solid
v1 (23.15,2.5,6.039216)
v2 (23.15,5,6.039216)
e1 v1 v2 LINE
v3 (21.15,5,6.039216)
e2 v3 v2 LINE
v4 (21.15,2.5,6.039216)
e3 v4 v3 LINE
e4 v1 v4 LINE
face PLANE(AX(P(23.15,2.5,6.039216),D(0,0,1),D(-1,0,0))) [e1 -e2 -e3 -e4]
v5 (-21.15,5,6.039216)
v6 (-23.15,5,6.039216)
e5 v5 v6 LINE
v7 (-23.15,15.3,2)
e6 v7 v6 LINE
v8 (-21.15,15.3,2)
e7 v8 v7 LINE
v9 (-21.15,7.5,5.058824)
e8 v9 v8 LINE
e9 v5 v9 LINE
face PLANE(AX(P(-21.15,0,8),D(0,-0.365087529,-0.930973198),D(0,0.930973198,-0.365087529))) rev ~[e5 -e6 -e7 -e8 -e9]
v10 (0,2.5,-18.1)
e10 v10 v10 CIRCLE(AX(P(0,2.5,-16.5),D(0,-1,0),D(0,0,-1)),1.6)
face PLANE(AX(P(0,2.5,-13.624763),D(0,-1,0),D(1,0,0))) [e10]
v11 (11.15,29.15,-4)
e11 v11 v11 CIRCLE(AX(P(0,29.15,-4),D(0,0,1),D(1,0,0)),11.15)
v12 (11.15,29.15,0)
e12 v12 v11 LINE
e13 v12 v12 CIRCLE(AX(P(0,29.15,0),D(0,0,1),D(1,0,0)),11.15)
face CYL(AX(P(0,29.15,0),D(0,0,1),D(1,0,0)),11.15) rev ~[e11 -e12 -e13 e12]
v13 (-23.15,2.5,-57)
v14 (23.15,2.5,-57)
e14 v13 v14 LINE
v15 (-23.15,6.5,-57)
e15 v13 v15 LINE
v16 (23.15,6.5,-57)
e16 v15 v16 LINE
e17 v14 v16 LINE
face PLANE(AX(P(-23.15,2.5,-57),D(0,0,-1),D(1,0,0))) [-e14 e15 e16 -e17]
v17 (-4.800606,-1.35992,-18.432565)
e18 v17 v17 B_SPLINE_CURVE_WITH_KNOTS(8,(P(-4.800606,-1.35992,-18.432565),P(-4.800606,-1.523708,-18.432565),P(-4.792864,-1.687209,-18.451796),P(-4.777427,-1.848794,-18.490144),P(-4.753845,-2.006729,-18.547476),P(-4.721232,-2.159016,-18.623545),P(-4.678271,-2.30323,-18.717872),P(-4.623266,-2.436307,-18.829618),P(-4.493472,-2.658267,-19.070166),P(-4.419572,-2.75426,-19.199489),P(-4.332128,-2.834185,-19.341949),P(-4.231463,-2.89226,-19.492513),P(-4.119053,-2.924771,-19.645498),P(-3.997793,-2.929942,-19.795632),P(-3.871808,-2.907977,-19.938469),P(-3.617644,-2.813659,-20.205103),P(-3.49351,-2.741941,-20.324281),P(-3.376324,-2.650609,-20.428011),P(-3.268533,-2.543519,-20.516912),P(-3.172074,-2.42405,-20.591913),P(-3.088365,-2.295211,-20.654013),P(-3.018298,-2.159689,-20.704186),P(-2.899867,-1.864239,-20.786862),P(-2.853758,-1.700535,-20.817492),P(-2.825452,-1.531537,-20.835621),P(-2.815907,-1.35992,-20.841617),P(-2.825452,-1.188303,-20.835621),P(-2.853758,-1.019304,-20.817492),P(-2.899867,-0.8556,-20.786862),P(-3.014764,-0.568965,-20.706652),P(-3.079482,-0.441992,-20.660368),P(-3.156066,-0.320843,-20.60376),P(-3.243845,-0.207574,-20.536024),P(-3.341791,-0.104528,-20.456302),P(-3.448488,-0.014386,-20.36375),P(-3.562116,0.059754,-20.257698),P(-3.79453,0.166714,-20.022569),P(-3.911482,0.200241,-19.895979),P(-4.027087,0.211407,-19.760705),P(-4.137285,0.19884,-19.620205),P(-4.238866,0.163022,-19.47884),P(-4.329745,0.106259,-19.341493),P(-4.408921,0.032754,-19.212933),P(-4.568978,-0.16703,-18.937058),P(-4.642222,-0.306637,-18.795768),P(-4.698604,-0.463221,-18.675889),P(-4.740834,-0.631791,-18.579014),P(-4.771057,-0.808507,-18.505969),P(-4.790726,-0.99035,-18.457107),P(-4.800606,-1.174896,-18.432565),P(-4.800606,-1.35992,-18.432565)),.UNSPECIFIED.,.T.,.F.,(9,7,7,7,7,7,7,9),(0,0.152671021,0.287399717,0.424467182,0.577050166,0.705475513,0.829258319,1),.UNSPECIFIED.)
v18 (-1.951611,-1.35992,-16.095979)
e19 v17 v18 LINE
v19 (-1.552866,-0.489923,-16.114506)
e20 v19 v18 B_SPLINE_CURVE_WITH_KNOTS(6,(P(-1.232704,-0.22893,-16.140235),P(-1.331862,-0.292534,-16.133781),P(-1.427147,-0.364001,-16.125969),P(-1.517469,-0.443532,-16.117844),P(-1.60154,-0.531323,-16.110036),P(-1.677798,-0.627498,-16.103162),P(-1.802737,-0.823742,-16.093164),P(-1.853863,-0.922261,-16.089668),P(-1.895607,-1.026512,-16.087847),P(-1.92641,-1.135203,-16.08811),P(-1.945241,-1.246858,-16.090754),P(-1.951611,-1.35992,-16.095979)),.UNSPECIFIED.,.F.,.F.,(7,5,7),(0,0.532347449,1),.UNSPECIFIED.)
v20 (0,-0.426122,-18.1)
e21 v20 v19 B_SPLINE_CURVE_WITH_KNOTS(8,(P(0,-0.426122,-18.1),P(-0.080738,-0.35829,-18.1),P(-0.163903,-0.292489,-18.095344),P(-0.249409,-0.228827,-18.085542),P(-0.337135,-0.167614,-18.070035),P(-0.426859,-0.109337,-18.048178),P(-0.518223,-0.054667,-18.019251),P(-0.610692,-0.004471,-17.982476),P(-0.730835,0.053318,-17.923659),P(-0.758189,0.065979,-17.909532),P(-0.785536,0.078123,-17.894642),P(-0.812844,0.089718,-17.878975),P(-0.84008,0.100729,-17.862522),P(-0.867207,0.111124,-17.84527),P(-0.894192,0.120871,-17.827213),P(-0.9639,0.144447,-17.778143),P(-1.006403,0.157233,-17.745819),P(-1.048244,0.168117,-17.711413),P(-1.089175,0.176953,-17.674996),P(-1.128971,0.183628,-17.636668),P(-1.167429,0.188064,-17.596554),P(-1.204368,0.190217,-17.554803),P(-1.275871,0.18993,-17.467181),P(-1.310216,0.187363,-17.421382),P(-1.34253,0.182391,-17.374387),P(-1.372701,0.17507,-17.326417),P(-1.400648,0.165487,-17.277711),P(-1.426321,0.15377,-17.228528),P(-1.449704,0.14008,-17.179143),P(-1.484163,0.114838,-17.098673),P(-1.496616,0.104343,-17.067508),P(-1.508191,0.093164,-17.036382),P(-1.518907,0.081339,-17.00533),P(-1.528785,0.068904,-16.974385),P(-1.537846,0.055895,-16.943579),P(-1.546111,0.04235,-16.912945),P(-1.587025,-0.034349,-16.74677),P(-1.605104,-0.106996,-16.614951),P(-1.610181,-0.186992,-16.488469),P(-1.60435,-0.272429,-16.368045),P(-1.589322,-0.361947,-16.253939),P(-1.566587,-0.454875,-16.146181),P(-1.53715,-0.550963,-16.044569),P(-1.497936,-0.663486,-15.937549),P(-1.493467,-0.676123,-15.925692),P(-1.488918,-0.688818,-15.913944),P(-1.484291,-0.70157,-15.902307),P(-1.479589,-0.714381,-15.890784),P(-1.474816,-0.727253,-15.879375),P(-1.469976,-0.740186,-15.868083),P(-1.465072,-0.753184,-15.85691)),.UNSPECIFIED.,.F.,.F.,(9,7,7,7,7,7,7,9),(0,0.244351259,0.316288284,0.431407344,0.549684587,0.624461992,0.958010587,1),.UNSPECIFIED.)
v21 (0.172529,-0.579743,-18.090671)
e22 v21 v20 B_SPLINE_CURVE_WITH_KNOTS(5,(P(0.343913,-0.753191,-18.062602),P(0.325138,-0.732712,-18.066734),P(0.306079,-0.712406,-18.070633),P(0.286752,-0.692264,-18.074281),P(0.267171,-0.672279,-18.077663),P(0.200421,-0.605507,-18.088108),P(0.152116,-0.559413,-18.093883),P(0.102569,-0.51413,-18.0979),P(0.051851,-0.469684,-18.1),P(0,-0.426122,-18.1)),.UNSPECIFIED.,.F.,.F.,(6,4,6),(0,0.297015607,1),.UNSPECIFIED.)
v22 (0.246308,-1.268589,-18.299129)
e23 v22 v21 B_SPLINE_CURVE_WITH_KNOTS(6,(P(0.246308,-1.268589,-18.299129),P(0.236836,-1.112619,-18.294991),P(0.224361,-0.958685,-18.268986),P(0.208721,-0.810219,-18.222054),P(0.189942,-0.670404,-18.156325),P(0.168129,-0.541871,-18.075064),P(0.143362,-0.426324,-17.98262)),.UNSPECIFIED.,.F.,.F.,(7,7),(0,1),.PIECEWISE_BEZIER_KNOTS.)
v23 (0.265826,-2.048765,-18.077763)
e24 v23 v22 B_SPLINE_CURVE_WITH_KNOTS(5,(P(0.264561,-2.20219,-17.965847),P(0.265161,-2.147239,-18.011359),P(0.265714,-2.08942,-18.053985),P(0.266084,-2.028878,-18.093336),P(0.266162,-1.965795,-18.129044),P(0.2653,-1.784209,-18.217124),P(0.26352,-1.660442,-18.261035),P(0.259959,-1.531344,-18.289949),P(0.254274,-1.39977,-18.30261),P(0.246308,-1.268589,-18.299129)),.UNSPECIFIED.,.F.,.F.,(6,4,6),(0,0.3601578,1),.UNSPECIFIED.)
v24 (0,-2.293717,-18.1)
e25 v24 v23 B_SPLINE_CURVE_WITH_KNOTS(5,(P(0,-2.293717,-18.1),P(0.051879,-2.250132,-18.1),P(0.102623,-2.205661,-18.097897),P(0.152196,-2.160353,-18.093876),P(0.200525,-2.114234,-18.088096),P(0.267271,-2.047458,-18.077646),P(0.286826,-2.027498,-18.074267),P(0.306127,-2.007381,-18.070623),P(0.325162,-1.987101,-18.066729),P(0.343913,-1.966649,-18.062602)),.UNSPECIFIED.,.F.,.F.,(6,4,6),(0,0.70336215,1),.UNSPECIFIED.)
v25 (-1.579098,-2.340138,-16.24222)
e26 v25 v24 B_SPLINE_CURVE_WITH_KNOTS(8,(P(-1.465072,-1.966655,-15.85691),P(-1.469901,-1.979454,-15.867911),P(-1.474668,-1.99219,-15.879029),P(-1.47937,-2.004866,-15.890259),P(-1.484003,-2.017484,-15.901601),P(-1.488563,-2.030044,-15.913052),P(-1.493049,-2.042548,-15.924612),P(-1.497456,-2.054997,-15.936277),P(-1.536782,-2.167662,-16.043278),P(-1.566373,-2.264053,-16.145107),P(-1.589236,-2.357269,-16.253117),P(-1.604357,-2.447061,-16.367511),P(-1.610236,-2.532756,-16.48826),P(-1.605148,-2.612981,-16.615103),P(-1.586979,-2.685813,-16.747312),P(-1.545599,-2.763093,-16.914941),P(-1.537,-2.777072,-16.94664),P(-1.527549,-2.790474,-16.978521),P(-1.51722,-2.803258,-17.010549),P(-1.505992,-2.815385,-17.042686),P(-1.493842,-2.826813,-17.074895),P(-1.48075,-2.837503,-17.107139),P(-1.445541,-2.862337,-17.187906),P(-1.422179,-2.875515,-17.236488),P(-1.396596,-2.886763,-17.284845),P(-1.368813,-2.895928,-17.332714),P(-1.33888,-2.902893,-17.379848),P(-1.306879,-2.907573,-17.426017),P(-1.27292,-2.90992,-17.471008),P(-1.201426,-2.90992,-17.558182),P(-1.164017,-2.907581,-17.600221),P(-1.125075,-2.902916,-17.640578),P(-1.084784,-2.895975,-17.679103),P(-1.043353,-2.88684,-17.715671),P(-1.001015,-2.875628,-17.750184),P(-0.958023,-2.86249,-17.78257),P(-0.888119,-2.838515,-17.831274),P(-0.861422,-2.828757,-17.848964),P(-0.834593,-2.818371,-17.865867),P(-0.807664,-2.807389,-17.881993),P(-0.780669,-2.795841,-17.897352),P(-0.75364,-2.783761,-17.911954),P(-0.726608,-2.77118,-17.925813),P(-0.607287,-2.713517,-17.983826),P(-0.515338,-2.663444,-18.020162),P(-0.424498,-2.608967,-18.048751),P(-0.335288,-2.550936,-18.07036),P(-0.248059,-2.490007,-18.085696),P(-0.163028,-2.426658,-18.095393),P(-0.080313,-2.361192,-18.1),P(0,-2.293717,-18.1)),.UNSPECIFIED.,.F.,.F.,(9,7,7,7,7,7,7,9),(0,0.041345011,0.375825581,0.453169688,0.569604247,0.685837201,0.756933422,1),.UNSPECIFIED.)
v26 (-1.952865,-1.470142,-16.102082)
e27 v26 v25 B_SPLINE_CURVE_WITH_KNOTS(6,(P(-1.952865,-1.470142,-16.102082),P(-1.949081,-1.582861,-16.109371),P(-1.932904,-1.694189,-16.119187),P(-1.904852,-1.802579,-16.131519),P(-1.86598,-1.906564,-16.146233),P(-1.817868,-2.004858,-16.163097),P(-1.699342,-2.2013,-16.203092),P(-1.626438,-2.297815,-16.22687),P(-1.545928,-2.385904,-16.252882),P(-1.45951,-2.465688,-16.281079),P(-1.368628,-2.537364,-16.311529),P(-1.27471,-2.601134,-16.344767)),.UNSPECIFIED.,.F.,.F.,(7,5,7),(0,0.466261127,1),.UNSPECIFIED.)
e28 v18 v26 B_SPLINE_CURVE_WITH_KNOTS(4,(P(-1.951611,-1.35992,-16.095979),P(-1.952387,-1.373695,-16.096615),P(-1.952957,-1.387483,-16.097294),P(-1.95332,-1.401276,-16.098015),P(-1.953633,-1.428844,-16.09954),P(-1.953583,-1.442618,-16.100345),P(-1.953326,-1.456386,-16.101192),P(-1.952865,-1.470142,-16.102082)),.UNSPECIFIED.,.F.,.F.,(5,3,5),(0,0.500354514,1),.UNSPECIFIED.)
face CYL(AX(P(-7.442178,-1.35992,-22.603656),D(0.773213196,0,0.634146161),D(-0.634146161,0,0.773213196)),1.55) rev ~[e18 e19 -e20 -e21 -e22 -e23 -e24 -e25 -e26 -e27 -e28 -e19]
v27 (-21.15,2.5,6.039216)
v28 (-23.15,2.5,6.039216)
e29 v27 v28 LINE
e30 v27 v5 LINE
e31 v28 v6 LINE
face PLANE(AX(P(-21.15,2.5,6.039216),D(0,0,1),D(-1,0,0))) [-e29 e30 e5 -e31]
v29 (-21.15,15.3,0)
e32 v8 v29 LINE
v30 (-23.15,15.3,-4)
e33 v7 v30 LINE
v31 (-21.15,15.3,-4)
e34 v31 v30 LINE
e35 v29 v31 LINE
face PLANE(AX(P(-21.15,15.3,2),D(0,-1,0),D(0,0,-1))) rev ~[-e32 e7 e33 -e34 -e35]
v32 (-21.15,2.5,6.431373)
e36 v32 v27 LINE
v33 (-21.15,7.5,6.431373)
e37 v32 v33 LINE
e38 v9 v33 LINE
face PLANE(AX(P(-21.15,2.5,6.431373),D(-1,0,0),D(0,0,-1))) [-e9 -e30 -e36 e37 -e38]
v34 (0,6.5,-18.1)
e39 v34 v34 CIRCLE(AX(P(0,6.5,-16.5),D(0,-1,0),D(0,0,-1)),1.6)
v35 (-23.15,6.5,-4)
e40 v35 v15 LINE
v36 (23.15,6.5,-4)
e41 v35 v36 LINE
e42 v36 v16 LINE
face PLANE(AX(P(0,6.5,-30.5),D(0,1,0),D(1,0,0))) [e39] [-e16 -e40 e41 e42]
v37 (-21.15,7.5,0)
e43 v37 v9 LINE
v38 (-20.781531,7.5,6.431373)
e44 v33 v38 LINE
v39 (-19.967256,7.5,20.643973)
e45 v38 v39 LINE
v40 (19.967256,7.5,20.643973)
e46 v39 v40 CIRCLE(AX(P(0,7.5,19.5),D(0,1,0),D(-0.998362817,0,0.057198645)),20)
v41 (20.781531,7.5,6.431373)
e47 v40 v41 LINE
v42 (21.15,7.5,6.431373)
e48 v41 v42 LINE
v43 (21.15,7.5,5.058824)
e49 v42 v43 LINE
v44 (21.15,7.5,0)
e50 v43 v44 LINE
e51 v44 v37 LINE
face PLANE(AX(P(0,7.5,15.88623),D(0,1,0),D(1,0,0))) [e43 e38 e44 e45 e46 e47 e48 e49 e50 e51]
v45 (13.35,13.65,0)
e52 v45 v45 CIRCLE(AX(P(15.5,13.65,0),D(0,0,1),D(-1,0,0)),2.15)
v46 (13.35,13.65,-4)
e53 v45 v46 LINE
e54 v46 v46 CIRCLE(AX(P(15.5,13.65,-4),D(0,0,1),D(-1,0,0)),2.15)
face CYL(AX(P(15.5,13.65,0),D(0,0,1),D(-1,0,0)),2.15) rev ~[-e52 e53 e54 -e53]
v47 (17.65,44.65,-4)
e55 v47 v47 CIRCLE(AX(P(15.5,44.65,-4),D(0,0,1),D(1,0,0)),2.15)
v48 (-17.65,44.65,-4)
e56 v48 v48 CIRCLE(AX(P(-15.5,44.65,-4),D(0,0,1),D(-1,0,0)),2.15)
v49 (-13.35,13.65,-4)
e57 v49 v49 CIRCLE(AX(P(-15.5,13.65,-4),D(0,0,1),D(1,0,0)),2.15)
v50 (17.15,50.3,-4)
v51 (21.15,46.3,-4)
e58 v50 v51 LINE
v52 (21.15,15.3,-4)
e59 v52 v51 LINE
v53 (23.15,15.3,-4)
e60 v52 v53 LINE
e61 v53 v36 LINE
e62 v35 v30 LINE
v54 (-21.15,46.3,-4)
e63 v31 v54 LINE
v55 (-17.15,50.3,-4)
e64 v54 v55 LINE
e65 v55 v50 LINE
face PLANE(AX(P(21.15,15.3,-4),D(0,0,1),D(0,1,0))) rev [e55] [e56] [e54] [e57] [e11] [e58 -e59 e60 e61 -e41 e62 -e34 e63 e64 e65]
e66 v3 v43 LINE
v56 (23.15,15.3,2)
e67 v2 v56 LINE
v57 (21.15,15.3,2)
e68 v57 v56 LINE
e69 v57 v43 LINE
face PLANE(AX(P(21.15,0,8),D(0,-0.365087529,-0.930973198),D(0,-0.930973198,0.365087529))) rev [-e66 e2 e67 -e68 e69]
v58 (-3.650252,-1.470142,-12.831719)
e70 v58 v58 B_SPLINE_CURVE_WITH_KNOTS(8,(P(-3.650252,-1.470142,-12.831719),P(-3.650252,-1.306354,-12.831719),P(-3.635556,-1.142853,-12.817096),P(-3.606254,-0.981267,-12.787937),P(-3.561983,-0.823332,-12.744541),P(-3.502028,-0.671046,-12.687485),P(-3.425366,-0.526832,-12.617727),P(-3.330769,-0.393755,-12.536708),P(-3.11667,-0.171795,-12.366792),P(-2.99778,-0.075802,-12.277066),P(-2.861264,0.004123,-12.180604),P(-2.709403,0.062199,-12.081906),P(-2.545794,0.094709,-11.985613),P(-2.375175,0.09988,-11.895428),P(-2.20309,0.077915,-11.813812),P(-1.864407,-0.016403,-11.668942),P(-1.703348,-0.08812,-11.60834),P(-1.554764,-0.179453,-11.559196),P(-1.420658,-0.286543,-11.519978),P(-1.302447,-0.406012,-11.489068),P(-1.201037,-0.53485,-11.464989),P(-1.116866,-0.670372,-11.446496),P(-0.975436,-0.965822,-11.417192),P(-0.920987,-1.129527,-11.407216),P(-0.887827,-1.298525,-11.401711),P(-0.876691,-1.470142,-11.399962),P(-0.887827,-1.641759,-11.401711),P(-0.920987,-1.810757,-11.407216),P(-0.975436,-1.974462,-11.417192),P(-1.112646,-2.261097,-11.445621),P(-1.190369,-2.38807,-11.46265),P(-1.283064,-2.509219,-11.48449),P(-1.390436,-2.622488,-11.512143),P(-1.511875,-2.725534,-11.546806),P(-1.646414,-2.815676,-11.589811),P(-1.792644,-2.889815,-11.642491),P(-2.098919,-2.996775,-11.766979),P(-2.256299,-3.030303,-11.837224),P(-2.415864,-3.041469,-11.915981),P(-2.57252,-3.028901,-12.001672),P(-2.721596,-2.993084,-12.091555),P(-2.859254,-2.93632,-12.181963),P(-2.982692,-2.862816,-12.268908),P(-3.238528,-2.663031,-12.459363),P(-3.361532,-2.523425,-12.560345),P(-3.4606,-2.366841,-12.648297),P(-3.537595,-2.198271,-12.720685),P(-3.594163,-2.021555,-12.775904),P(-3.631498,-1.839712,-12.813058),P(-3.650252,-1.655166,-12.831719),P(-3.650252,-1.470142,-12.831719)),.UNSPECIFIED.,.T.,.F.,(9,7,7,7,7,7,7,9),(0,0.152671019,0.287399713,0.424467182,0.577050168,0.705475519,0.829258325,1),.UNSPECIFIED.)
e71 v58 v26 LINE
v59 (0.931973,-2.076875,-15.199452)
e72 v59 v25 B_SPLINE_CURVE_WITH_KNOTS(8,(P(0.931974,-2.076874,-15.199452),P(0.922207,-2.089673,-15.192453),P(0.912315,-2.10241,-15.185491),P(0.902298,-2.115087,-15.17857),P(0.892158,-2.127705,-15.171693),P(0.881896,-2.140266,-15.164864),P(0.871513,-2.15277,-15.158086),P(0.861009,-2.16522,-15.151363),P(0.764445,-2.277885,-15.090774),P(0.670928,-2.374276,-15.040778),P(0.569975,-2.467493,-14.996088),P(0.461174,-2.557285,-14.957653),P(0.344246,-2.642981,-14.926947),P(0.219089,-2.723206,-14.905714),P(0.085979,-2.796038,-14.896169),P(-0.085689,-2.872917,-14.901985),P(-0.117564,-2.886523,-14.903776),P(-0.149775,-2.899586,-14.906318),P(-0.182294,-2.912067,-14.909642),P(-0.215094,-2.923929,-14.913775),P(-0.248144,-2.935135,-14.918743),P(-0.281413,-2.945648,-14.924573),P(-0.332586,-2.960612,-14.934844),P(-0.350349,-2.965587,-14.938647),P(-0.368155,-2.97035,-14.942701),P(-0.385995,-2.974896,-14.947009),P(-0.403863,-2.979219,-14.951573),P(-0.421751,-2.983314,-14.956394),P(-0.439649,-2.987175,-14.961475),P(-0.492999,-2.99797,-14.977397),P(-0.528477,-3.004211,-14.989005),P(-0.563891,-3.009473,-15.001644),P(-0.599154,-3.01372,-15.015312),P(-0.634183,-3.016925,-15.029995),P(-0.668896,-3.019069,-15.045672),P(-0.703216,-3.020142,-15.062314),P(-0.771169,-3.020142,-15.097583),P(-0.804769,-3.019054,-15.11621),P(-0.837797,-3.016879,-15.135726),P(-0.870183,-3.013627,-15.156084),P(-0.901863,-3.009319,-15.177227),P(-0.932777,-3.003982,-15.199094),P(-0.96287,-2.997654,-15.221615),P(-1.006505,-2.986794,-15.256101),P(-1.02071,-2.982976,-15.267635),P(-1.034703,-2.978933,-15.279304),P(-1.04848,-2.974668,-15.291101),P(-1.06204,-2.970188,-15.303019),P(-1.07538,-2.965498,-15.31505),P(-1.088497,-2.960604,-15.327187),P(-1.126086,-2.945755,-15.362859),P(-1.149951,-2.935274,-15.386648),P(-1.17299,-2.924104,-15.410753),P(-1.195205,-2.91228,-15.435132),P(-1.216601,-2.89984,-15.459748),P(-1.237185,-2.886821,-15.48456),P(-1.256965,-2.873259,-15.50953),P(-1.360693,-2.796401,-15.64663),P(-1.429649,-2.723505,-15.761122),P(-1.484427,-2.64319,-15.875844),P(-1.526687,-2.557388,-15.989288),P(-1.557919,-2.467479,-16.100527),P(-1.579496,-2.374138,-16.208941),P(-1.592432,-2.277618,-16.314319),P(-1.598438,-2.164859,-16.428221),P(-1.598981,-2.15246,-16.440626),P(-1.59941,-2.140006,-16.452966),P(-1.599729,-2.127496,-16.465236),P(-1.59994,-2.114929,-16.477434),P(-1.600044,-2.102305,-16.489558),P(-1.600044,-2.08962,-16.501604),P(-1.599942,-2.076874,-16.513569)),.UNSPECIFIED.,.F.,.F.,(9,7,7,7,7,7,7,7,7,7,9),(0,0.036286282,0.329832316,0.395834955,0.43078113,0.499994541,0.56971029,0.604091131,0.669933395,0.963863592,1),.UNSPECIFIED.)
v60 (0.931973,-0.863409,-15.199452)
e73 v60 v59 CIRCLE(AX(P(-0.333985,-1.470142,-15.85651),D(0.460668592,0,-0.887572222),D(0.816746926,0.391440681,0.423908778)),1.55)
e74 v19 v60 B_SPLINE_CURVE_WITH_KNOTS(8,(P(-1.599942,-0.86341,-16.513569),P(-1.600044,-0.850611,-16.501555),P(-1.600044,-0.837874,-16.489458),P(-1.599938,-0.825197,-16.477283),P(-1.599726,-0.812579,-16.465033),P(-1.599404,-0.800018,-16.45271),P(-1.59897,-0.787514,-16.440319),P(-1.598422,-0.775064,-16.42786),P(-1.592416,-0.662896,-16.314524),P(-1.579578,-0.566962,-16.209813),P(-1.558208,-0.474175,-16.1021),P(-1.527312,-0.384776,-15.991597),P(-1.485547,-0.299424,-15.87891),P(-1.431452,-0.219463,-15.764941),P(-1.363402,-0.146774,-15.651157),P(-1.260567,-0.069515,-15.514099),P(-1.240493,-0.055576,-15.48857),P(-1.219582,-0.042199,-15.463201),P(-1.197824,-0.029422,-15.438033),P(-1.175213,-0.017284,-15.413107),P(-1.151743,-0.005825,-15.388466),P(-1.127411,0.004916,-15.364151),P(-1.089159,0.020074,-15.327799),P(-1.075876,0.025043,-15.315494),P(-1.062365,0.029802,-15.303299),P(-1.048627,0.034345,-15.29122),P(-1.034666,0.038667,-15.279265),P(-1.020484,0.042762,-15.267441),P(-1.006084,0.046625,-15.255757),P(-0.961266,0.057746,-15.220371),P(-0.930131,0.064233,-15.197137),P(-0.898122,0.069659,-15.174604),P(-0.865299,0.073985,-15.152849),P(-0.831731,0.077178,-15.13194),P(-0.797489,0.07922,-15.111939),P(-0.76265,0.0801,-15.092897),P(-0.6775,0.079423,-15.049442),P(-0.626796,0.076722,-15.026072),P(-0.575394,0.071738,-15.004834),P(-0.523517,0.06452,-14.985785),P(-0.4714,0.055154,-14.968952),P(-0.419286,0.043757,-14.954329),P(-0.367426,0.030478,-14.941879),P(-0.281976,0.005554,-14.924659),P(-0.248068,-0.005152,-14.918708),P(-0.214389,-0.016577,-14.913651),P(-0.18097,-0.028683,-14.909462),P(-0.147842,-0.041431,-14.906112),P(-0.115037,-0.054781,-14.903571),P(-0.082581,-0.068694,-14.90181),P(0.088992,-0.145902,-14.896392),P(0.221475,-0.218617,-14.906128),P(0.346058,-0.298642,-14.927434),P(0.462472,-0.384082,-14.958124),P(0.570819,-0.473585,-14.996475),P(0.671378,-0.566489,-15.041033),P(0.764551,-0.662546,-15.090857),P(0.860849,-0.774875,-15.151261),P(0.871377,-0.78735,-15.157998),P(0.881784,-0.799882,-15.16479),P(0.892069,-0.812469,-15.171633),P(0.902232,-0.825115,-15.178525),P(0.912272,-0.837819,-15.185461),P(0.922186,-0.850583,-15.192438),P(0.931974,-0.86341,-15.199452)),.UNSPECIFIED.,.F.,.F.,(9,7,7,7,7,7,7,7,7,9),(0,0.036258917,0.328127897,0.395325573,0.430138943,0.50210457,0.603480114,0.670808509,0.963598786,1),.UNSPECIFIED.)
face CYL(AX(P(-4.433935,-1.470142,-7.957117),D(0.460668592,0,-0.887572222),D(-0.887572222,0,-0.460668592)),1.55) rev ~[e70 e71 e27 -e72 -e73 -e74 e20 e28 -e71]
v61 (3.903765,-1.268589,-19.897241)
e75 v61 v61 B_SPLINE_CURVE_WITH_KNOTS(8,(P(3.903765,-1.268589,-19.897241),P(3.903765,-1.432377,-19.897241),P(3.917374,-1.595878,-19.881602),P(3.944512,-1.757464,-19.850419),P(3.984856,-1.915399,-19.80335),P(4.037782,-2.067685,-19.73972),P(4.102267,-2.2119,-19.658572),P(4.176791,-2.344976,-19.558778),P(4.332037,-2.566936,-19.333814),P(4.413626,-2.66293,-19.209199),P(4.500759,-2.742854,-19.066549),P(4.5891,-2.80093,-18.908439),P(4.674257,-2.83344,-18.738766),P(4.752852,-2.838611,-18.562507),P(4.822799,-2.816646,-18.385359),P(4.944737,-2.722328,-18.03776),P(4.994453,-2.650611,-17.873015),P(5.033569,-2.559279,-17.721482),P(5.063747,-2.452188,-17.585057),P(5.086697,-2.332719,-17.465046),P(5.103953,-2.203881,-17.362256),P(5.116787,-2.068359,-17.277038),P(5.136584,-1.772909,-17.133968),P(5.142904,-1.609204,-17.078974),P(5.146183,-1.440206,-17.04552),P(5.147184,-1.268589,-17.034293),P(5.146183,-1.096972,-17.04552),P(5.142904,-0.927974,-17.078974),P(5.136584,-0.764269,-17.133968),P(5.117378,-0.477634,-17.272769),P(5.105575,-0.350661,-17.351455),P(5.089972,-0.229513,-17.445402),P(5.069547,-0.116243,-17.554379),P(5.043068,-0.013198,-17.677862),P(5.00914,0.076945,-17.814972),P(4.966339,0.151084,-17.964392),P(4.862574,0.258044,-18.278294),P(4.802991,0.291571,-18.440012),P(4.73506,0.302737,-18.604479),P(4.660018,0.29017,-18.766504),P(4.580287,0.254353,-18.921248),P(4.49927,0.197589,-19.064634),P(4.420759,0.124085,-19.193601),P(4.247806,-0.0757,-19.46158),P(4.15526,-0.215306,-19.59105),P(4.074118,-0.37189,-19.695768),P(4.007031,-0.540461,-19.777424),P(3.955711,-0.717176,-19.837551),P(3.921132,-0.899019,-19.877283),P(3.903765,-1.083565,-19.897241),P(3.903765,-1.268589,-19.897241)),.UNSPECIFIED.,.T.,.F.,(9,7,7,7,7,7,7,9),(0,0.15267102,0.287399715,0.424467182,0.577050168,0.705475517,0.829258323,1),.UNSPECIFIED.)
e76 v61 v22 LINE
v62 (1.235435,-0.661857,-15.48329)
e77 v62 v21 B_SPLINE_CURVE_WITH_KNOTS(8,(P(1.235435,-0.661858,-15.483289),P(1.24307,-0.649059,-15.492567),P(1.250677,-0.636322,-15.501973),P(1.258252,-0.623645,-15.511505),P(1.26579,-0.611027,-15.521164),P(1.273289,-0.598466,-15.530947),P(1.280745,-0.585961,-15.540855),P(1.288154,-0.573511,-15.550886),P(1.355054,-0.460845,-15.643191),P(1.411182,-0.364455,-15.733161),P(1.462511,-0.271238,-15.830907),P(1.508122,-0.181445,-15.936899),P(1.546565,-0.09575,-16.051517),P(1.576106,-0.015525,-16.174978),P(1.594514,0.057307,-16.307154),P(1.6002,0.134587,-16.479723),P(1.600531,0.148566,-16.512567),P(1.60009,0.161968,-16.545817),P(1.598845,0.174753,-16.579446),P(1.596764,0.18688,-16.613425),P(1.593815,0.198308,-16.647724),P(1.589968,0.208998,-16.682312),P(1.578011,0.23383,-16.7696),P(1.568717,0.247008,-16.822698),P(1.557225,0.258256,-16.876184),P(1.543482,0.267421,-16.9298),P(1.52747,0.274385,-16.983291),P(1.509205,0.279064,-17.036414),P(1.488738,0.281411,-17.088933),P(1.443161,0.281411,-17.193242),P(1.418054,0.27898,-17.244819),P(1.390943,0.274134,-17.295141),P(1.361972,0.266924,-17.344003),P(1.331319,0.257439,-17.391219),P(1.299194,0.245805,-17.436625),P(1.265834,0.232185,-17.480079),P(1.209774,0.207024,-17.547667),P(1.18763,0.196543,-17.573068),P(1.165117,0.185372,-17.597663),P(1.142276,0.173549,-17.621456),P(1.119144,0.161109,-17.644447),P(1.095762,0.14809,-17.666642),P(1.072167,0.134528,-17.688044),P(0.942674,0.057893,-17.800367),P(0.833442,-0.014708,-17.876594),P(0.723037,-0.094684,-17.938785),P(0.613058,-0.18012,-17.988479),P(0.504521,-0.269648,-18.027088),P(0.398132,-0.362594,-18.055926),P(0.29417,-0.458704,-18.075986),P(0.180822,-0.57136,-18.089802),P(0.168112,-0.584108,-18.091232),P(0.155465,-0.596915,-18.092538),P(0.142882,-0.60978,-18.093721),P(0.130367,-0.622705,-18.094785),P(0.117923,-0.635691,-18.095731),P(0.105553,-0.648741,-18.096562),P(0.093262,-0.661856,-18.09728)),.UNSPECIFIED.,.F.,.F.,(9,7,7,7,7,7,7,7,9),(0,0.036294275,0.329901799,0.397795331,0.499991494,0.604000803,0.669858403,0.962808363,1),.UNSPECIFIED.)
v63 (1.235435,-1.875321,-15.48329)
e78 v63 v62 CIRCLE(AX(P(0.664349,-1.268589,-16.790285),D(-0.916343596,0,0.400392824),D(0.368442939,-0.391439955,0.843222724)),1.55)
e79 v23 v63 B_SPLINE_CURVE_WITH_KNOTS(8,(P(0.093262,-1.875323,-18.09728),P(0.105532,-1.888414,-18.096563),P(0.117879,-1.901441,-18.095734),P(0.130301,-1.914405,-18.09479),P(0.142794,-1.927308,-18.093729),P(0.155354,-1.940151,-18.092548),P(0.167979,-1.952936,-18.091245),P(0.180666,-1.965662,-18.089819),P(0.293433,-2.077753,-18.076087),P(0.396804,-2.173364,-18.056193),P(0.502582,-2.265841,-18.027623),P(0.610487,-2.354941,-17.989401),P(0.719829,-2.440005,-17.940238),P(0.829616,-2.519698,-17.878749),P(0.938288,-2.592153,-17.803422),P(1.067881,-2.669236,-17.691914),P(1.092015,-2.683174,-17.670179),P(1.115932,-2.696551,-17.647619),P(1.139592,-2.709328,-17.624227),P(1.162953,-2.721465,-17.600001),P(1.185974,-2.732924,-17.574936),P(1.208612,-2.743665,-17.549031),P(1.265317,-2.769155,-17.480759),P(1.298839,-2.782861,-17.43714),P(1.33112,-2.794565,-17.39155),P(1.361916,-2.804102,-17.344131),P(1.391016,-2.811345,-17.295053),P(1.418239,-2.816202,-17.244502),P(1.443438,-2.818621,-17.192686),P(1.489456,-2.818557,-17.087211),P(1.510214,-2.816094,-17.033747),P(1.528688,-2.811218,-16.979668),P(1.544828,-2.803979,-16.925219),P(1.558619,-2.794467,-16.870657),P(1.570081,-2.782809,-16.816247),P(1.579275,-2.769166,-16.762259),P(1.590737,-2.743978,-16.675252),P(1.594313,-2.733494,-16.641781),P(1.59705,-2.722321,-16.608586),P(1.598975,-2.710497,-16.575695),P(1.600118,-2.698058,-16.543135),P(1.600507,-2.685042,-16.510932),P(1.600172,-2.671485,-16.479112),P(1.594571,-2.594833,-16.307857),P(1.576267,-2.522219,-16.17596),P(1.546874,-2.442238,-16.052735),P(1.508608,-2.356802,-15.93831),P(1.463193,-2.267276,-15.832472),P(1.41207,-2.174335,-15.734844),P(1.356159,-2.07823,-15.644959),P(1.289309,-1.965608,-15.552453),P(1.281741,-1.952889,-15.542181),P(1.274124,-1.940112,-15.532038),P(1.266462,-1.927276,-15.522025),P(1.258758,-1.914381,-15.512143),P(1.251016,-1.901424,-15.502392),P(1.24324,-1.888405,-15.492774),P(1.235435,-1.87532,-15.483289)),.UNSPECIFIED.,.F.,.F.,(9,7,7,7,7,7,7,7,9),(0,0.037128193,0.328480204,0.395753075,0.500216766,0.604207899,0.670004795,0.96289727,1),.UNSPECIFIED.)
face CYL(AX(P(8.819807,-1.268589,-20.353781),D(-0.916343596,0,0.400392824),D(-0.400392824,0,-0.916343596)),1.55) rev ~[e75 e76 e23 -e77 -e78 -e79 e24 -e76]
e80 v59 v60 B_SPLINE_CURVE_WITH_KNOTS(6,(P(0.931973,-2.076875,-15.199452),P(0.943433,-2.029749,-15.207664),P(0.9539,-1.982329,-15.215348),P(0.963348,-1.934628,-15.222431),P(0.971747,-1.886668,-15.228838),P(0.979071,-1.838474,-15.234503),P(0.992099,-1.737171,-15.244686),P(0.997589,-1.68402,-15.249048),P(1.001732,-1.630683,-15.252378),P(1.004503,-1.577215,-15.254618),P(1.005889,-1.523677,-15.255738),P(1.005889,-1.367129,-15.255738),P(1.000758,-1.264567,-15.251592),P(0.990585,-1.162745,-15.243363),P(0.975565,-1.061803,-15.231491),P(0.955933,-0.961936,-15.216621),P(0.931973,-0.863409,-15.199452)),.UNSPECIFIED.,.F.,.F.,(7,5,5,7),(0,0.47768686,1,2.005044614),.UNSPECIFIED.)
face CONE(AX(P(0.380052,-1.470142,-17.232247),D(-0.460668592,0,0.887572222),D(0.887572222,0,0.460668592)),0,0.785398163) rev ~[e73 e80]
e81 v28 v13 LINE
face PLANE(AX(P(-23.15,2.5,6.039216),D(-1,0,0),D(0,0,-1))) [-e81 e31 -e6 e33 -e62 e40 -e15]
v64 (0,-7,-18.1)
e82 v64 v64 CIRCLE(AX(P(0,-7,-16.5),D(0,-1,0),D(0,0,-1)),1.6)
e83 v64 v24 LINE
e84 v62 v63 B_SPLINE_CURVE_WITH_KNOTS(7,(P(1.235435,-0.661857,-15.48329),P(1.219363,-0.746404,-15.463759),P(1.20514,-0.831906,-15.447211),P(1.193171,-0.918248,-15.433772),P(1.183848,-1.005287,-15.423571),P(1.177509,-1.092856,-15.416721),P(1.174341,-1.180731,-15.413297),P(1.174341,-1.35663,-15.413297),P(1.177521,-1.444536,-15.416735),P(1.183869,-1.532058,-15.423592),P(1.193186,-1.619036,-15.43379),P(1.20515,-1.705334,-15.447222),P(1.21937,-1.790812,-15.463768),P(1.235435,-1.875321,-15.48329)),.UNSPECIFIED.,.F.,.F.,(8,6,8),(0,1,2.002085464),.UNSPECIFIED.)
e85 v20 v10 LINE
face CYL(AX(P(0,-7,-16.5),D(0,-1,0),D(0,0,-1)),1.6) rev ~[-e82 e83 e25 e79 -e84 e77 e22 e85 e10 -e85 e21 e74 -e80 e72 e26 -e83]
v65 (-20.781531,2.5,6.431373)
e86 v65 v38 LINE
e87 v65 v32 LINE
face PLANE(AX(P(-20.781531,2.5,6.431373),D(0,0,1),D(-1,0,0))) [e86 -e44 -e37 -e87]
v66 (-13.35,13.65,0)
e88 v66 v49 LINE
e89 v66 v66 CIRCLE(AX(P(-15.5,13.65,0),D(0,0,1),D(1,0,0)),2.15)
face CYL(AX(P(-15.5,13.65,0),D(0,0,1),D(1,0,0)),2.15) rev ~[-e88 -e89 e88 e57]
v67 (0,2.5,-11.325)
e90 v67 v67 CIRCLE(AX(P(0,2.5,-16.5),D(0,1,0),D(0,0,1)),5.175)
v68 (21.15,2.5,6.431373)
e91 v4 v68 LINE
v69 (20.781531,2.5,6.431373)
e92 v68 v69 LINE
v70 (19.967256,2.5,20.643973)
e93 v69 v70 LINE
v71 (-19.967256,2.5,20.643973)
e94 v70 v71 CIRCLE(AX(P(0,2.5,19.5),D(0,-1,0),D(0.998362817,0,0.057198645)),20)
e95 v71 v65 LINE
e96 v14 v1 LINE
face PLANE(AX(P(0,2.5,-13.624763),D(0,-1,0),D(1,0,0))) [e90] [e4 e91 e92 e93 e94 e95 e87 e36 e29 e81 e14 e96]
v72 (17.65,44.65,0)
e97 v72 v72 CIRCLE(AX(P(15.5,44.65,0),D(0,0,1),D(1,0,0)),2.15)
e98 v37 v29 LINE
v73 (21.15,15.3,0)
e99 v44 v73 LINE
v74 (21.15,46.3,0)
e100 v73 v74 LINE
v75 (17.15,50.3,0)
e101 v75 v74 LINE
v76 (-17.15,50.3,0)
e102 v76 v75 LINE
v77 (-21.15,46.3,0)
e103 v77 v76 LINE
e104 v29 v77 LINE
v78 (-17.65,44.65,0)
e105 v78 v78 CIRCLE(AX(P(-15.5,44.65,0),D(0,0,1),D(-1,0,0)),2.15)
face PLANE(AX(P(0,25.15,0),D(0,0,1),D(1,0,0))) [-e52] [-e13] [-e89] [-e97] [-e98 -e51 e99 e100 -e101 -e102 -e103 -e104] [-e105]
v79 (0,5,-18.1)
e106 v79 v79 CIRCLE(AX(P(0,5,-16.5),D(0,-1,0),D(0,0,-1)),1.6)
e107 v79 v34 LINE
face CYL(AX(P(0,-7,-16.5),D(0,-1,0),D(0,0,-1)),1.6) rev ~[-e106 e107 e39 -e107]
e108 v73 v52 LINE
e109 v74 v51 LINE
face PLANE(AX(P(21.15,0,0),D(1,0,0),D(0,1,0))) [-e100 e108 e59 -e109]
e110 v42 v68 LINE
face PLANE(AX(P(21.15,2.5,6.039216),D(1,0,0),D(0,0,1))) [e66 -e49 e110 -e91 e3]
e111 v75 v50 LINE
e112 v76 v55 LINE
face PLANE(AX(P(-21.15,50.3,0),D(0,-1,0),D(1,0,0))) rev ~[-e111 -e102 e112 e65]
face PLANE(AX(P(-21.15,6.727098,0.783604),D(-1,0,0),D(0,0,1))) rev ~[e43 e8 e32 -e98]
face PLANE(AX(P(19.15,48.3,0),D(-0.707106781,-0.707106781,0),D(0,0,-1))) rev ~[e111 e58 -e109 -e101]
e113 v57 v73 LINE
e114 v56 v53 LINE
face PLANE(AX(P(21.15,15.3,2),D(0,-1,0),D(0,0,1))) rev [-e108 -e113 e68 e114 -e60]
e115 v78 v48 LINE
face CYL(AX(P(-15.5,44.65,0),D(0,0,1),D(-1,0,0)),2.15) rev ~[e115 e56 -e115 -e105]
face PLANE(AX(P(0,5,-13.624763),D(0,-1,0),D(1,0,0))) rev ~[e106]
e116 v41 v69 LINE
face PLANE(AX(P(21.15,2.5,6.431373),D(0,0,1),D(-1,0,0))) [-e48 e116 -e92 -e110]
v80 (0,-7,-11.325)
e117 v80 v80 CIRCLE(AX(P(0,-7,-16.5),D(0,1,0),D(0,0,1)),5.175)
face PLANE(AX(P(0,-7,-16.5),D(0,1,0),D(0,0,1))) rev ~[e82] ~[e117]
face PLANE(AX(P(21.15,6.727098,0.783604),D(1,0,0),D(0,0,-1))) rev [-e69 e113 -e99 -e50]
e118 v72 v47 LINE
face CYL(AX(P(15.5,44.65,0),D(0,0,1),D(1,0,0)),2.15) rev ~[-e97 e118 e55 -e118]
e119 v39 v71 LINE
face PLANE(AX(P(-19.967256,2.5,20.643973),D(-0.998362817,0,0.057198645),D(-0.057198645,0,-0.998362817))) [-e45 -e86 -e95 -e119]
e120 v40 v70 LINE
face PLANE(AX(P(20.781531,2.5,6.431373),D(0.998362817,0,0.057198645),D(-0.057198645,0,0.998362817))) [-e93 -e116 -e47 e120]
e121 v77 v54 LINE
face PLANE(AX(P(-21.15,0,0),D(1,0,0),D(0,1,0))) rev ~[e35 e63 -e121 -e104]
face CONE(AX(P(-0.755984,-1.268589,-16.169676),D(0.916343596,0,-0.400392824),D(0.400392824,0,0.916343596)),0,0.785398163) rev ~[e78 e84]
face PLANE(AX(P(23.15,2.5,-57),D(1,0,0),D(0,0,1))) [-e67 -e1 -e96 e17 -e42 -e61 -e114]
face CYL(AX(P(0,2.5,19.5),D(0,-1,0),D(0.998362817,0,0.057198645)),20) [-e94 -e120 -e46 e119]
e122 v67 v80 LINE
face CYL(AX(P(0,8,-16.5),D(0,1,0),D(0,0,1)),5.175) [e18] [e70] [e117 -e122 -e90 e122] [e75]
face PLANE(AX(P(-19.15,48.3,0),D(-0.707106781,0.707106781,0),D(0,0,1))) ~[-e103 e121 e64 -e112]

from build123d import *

# Parameters (mm, degrees)
SKETCH_5_W                = 42.3
SKETCH_5_H                = 50.3
SKETCH_5_R                = 11.15
SKETCH_5_R_2              = 2.15
EXTRUDE_2_DEPTH           = 4
EXTRUDE_3_DEPTH           = 4
SKETCH_7_R                = 1.7
CUT_EXTRUDE_3_DEPTH       = 4
CHAMFER_1_SIZE            = 4
EXTRUDE_4_DEPTH           = 2
EXTRUDE_5_REACH           = 79.8
EXTRUDE_6_REACH           = 80.956
SKETCH_12_W               = 46.3
SKETCH_12_H               = 3
EXTRUDE_7_DEPTH           = 53
EXTRUDE_9_DEPTH           = 4
CUT_EXTRUDE_4_DEPTH       = 5
SKETCH_17_R               = 5.175
EXTRUDE_10_DEPTH          = 15
SKETCH_18_R               = 1.6
CUT_EXTRUDE_6_DEPTH       = 15
F_2_0MM_1_D               = 3.1
F_2_0MM_1_DEPTH           = 4.45
F_2_0MM_1_TIP             = 1.55
F_2_0MM_1_ON_FACE_2_D     = 3.1
F_2_0MM_1_ON_FACE_2_DEPTH = 4.45
F_2_0MM_1_ON_FACE_2_TIP   = 1.55
F_2_0MM_1_ON_FACE_3_D     = 3.1
F_2_0MM_1_ON_FACE_3_DEPTH = 4.45
F_2_0MM_1_ON_FACE_3_TIP   = 1.55
SKETCH_21_W               = 46.3
SKETCH_21_H               = 53
CUT_EXTRUDE_7_DEPTH       = 1.5
CUT_EXTRUDE_START         = -0.5
CUT_EXTRUDE_8_DEPTH       = 0.5
EXTRUDE_START             = 2.5
EXTRUDE_11_DEPTH          = 2.5


with BuildPart() as part:
    # Sketch 5 → Extrude 2 (new body)
    with BuildSketch(Plane.XY):
        with Locations((0, 25.15)):
            Rectangle(SKETCH_5_W, SKETCH_5_H)
        with Locations((0, 29.15)):
            Circle(SKETCH_5_R, mode=Mode.SUBTRACT)
        with Locations((15.5, 44.65)):
            Circle(SKETCH_5_R_2, mode=Mode.SUBTRACT)
        with Locations(Location((15.5, 13.65, 0), (0, 0, 180))):
            Circle(SKETCH_5_R_2, mode=Mode.SUBTRACT)
        with Locations((-15.5, 13.65)):
            Circle(SKETCH_5_R_2, mode=Mode.SUBTRACT)
        with Locations(Location((-15.5, 44.65, 0), (0, 0, 180))):
            Circle(SKETCH_5_R_2, mode=Mode.SUBTRACT)
    extrude(amount=-EXTRUDE_2_DEPTH)

    # Sketch 6 → Extrude 3 (add)
    with BuildSketch(Plane.XZ):
        with BuildLine():
            Line((-21.15, 0), (-19.967256346, 20.643972909))
            ThreePointArc((-19.967256346, 20.643972909), (0, 39.5), (19.967256346, 20.643972909))
            Line((19.967256346, 20.643972909), (21.15, 0))
            Line((21.15, 0), (-21.15, 0))
        make_face()
    extrude(amount=-EXTRUDE_3_DEPTH)

    # Sketch 7 → Cut-Extrude 3 (cut)
    with BuildSketch(Plane(origin=(0, 4, 0), x_dir=(1, 0, 0), z_dir=(0, 1, 0))):
        with Locations(Location((0, -5.5, 0), (0, 0, 270))):
            Circle(SKETCH_7_R)
        with Locations(Location((12.124355653, -12.5, 0), (0, 0, 270))):
            Circle(SKETCH_7_R)
        with Locations(Location((12.124355653, -26.5, 0), (0, 0, 270))):
            Circle(SKETCH_7_R)
        with Locations(Location((0, -33.5, 0), (0, 0, 270))):
            Circle(SKETCH_7_R)
        with Locations(Location((-12.124355653, -26.5, 0), (0, 0, 270))):
            Circle(SKETCH_7_R)
        with Locations(Location((-12.124355653, -12.5, 0), (0, 0, 270))):
            Circle(SKETCH_7_R)
    extrude(amount=-CUT_EXTRUDE_3_DEPTH, mode=Mode.SUBTRACT)

    # Chamfer 1
    chamfer_1_edges = [part.edges().sort_by_distance(p)[0] for p in [
        (-21.15, 50.3, -2),
        (21.15, 50.3, -2),
    ]]
    chamfer(chamfer_1_edges, length=CHAMFER_1_SIZE)

    # Sketch 9 → Extrude 4 (add)
    with BuildSketch(Plane.ZY.offset(21.15)):
        Polygon((-4, 0), (8, 0), (2, 15.3), (-4, 15.3), align=None)
    extrude_4 = extrude(amount=EXTRUDE_4_DEPTH)

    # Extrude 5: up to this face of the body (flat: up to its plane)
    extrude_5_end = Plane(part.part.faces().sort_by_distance((-20.558628173, 2, 10.321986454))[0])
    # Sketch 10 → Extrude 5 (add, up to the picked face)
    with BuildSketch(Plane.ZY.offset(23.15), mode=Mode.PRIVATE) as extrude_5_sk1:
        Polygon((-4, 0), (8, 0), (6.431372549, 4), (-4, 4), align=None)
    extrude_5_tool1 = split(extrude(extrude_5_sk1.sketch, amount=-EXTRUDE_5_REACH, mode=Mode.PRIVATE), bisect_by=extrude_5_end, keep=Keep.BOTH, mode=Mode.PRIVATE)
    add(extrude_5_tool1.solids().sort_by(Axis((-23.15, 1.95338, 1.616984), (1, 0, 0)))[0])

    # Mirror 2: Extrude 4 across plane
    add(extrude_4.mirror(Plane(origin=(0, 0, 0), x_dir=(0, 0, 1), z_dir=(1, 0, 0))))

    # Extrude 6: up to this face of the body (flat: up to its plane)
    extrude_6_end = Plane(part.part.faces().sort_by_distance((20.558628173, 2, 10.321986454))[0])
    # Sketch 11 → Extrude 6 (add, up to the picked face)
    with BuildSketch(Plane(origin=(23.15, 0, 0), x_dir=(0, 0, -1), z_dir=(1, 0, 0)), mode=Mode.PRIVATE) as extrude_6_sk1:
        Polygon((-6.431372549, 4), (4, 4), (4, 0), (-8, 0), align=None)
    extrude_6_tool1 = split(extrude(extrude_6_sk1.sketch, amount=-EXTRUDE_6_REACH, mode=Mode.PRIVATE), bisect_by=extrude_6_end, keep=Keep.BOTH, mode=Mode.PRIVATE)
    add(extrude_6_tool1.solids().sort_by(Axis((23.15, 1.95338, 1.616984), (-1, 0, 0)))[0])

    # Sketch 12 → Extrude 7 (add)
    with BuildSketch(Plane(origin=(0, 0, -4), x_dir=(-1, 0, 0), z_dir=(0, 0, -1))):
        with Locations((0, 6.5)):
            Rectangle(SKETCH_12_W, SKETCH_12_H)
    extrude(amount=EXTRUDE_7_DEPTH)

    # Sketch 14 → Extrude 9 (add)
    with BuildSketch(Plane(origin=(0, 4, 0), x_dir=(1, 0, 0), z_dir=(0, 1, 0))):
        with BuildLine():
            Line((21.15, 0), (-21.15, 0))
            Line((-21.15, 0), (-21.15, -6.431372549))
            Line((-21.15, -6.431372549), (-20.781530951, -6.431372549))
            Line((-20.781530951, -6.431372549), (-19.967256346, -20.643972909))
            ThreePointArc((-19.967256346, -20.643972909), (0, -39.5), (19.967256346, -20.643972909))
            Line((19.967256346, -20.643972909), (20.781530951, -6.431372549))
            Line((20.781530951, -6.431372549), (21.15, -6.431372549))
            Line((21.15, -6.431372549), (21.15, 0))
        make_face()
    extrude(amount=EXTRUDE_9_DEPTH)

    # Sketch 15 → Cut-Extrude 4 (cut)
    with BuildSketch(Plane.XZ):
        with BuildLine():
            Line((-23.15, -4), (23.15, -4))
            Line((23.15, -4), (23.15, 8))
            Line((23.15, 8), (20.691660451, 8))
            Line((20.691660451, 8), (19.967256346, 20.643972909))
            ThreePointArc((19.967256346, 20.643972909), (0, 39.5), (-19.967256346, 20.643972909))
            Line((-19.967256346, 20.643972909), (-20.691660451, 8))
            Line((-20.691660451, 8), (-23.15, 8))
            Line((-23.15, 8), (-23.15, -4))
        make_face()
    extrude(amount=-CUT_EXTRUDE_4_DEPTH, mode=Mode.SUBTRACT)

    # Sketch 17 → Extrude 10 (add)
    with BuildSketch(Plane(origin=(0, 8, 0), x_dir=(1, 0, 0), z_dir=(0, 1, 0))):
        with Locations(Location((0, 16.5, 0), (0, 0, 270))):
            Circle(SKETCH_17_R)
    extrude(amount=-EXTRUDE_10_DEPTH)

    # Sketch 18 → Cut-Extrude 6 (cut)
    with BuildSketch(Plane.XZ.offset(7)):
        with Locations(Location((0, -16.5, 0), (0, 0, 270))):
            Circle(SKETCH_18_R)
    extrude(amount=-CUT_EXTRUDE_6_DEPTH, mode=Mode.SUBTRACT)

    # 2.0mm _1
    with Locations(Plane(origin=(-2.383959963, -1.470142013, -11.906813753), x_dir=(0.887572221549, 0, 0.46066859187), z_dir=(-0.46066859187, 0, 0.887572221549))):
        with Locations((0, 0)):
            Hole(F_2_0MM_1_D / 2, depth=F_2_0MM_1_DEPTH)
            with Locations((0, 0, -(F_2_0MM_1_DEPTH + F_2_0MM_1_TIP / 2))):  # 90° drill point
                Cone(0, F_2_0MM_1_D / 2, F_2_0MM_1_TIP, mode=Mode.SUBTRACT)

    # 2.0mm _1 on face 2
    with Locations(Plane(origin=(-4.001379199, -1.359919587, -19.781705274), x_dir=(0.634146160856, 0, -0.773213196131), z_dir=(-0.773213196131, 0, -0.634146160856))):
        with Locations((-1e-09, 0)):
            Hole(F_2_0MM_1_ON_FACE_2_D / 2, depth=F_2_0MM_1_ON_FACE_2_DEPTH)
            with Locations((0, 0, -(F_2_0MM_1_ON_FACE_2_DEPTH + F_2_0MM_1_ON_FACE_2_TIP / 2))):  # 90° drill point
                Cone(0, F_2_0MM_1_ON_FACE_2_D / 2, F_2_0MM_1_ON_FACE_2_TIP, mode=Mode.SUBTRACT)

    # 2.0mm _1 on face 3
    with Locations(Plane(origin=(4.74207792, -1.268589172, -18.572033301), x_dir=(0.40039282367, 0, 0.916343596449), z_dir=(0.916343596449, 0, -0.40039282367))):
        with Locations((0, 0)):
            Hole(F_2_0MM_1_ON_FACE_3_D / 2, depth=F_2_0MM_1_ON_FACE_3_DEPTH)
            with Locations((0, 0, -(F_2_0MM_1_ON_FACE_3_DEPTH + F_2_0MM_1_ON_FACE_3_TIP / 2))):  # 90° drill point
                Cone(0, F_2_0MM_1_ON_FACE_3_D / 2, F_2_0MM_1_ON_FACE_3_TIP, mode=Mode.SUBTRACT)

    # Sketch 21 → Cut-Extrude 7 (cut)
    with BuildSketch(Plane(origin=(0, 8, 0), x_dir=(1, 0, 0), z_dir=(0, 1, 0))):
        with Locations((0, 30.5)):
            Rectangle(SKETCH_21_W, SKETCH_21_H)
    extrude(amount=-CUT_EXTRUDE_7_DEPTH, mode=Mode.SUBTRACT)

    # Sketch 22 → Cut-Extrude 8 (cut)
    with BuildSketch(Plane(origin=(0, 8, 0), x_dir=(1, 0, 0), z_dir=(0, 1, 0)).offset(CUT_EXTRUDE_START)):
        with BuildLine():
            Line((21.15, -6.431372549), (21.15, -4.862745098))
            Line((21.15, -4.862745098), (21.15, 0))
            Line((21.15, 0), (-21.15, 0))
            Line((-21.15, 0), (-21.15, -4.862745098))
            Line((-21.15, -4.862745098), (-21.15, -6.431372549))
            Line((-21.15, -6.431372549), (-20.781530951, -6.431372549))
            Line((-20.781530951, -6.431372549), (-19.967256346, -20.643972909))
            ThreePointArc((-19.967256346, -20.643972909), (0, -39.5), (19.967256346, -20.643972909))
            Line((19.967256346, -20.643972909), (20.781530951, -6.431372549))
            Line((20.781530951, -6.431372549), (21.15, -6.431372549))
        make_face()
    extrude(amount=CUT_EXTRUDE_8_DEPTH, mode=Mode.SUBTRACT)

    # Sketch 23 → Extrude 11 (add)
    with BuildSketch(Plane.XZ.offset(-5).offset(EXTRUDE_START)):
        with BuildLine():
            Line((23.15, -57), (23.15, 6.039215686))
            Line((23.15, 6.039215686), (21.15, 6.039215686))
            Line((21.15, 6.039215686), (21.15, 6.431372549))
            Line((21.15, 6.431372549), (20.781530951, 6.431372549))
            Line((20.781530951, 6.431372549), (19.967256346, 20.643972909))
            ThreePointArc((19.967256346, 20.643972909), (0, 39.5), (-19.967256346, 20.643972909))
            Line((-19.967256346, 20.643972909), (-20.781530951, 6.431372549))
            Line((-20.781530951, 6.431372549), (-21.15, 6.431372549))
            Line((-21.15, 6.431372549), (-21.15, 6.039215686))
            Line((-21.15, 6.039215686), (-23.15, 6.039215686))
            Line((-23.15, 6.039215686), (-23.15, -57))
            Line((-23.15, -57), (23.15, -57))
        make_face()
    extrude(amount=-EXTRUDE_11_DEPTH)


solid = part.part
